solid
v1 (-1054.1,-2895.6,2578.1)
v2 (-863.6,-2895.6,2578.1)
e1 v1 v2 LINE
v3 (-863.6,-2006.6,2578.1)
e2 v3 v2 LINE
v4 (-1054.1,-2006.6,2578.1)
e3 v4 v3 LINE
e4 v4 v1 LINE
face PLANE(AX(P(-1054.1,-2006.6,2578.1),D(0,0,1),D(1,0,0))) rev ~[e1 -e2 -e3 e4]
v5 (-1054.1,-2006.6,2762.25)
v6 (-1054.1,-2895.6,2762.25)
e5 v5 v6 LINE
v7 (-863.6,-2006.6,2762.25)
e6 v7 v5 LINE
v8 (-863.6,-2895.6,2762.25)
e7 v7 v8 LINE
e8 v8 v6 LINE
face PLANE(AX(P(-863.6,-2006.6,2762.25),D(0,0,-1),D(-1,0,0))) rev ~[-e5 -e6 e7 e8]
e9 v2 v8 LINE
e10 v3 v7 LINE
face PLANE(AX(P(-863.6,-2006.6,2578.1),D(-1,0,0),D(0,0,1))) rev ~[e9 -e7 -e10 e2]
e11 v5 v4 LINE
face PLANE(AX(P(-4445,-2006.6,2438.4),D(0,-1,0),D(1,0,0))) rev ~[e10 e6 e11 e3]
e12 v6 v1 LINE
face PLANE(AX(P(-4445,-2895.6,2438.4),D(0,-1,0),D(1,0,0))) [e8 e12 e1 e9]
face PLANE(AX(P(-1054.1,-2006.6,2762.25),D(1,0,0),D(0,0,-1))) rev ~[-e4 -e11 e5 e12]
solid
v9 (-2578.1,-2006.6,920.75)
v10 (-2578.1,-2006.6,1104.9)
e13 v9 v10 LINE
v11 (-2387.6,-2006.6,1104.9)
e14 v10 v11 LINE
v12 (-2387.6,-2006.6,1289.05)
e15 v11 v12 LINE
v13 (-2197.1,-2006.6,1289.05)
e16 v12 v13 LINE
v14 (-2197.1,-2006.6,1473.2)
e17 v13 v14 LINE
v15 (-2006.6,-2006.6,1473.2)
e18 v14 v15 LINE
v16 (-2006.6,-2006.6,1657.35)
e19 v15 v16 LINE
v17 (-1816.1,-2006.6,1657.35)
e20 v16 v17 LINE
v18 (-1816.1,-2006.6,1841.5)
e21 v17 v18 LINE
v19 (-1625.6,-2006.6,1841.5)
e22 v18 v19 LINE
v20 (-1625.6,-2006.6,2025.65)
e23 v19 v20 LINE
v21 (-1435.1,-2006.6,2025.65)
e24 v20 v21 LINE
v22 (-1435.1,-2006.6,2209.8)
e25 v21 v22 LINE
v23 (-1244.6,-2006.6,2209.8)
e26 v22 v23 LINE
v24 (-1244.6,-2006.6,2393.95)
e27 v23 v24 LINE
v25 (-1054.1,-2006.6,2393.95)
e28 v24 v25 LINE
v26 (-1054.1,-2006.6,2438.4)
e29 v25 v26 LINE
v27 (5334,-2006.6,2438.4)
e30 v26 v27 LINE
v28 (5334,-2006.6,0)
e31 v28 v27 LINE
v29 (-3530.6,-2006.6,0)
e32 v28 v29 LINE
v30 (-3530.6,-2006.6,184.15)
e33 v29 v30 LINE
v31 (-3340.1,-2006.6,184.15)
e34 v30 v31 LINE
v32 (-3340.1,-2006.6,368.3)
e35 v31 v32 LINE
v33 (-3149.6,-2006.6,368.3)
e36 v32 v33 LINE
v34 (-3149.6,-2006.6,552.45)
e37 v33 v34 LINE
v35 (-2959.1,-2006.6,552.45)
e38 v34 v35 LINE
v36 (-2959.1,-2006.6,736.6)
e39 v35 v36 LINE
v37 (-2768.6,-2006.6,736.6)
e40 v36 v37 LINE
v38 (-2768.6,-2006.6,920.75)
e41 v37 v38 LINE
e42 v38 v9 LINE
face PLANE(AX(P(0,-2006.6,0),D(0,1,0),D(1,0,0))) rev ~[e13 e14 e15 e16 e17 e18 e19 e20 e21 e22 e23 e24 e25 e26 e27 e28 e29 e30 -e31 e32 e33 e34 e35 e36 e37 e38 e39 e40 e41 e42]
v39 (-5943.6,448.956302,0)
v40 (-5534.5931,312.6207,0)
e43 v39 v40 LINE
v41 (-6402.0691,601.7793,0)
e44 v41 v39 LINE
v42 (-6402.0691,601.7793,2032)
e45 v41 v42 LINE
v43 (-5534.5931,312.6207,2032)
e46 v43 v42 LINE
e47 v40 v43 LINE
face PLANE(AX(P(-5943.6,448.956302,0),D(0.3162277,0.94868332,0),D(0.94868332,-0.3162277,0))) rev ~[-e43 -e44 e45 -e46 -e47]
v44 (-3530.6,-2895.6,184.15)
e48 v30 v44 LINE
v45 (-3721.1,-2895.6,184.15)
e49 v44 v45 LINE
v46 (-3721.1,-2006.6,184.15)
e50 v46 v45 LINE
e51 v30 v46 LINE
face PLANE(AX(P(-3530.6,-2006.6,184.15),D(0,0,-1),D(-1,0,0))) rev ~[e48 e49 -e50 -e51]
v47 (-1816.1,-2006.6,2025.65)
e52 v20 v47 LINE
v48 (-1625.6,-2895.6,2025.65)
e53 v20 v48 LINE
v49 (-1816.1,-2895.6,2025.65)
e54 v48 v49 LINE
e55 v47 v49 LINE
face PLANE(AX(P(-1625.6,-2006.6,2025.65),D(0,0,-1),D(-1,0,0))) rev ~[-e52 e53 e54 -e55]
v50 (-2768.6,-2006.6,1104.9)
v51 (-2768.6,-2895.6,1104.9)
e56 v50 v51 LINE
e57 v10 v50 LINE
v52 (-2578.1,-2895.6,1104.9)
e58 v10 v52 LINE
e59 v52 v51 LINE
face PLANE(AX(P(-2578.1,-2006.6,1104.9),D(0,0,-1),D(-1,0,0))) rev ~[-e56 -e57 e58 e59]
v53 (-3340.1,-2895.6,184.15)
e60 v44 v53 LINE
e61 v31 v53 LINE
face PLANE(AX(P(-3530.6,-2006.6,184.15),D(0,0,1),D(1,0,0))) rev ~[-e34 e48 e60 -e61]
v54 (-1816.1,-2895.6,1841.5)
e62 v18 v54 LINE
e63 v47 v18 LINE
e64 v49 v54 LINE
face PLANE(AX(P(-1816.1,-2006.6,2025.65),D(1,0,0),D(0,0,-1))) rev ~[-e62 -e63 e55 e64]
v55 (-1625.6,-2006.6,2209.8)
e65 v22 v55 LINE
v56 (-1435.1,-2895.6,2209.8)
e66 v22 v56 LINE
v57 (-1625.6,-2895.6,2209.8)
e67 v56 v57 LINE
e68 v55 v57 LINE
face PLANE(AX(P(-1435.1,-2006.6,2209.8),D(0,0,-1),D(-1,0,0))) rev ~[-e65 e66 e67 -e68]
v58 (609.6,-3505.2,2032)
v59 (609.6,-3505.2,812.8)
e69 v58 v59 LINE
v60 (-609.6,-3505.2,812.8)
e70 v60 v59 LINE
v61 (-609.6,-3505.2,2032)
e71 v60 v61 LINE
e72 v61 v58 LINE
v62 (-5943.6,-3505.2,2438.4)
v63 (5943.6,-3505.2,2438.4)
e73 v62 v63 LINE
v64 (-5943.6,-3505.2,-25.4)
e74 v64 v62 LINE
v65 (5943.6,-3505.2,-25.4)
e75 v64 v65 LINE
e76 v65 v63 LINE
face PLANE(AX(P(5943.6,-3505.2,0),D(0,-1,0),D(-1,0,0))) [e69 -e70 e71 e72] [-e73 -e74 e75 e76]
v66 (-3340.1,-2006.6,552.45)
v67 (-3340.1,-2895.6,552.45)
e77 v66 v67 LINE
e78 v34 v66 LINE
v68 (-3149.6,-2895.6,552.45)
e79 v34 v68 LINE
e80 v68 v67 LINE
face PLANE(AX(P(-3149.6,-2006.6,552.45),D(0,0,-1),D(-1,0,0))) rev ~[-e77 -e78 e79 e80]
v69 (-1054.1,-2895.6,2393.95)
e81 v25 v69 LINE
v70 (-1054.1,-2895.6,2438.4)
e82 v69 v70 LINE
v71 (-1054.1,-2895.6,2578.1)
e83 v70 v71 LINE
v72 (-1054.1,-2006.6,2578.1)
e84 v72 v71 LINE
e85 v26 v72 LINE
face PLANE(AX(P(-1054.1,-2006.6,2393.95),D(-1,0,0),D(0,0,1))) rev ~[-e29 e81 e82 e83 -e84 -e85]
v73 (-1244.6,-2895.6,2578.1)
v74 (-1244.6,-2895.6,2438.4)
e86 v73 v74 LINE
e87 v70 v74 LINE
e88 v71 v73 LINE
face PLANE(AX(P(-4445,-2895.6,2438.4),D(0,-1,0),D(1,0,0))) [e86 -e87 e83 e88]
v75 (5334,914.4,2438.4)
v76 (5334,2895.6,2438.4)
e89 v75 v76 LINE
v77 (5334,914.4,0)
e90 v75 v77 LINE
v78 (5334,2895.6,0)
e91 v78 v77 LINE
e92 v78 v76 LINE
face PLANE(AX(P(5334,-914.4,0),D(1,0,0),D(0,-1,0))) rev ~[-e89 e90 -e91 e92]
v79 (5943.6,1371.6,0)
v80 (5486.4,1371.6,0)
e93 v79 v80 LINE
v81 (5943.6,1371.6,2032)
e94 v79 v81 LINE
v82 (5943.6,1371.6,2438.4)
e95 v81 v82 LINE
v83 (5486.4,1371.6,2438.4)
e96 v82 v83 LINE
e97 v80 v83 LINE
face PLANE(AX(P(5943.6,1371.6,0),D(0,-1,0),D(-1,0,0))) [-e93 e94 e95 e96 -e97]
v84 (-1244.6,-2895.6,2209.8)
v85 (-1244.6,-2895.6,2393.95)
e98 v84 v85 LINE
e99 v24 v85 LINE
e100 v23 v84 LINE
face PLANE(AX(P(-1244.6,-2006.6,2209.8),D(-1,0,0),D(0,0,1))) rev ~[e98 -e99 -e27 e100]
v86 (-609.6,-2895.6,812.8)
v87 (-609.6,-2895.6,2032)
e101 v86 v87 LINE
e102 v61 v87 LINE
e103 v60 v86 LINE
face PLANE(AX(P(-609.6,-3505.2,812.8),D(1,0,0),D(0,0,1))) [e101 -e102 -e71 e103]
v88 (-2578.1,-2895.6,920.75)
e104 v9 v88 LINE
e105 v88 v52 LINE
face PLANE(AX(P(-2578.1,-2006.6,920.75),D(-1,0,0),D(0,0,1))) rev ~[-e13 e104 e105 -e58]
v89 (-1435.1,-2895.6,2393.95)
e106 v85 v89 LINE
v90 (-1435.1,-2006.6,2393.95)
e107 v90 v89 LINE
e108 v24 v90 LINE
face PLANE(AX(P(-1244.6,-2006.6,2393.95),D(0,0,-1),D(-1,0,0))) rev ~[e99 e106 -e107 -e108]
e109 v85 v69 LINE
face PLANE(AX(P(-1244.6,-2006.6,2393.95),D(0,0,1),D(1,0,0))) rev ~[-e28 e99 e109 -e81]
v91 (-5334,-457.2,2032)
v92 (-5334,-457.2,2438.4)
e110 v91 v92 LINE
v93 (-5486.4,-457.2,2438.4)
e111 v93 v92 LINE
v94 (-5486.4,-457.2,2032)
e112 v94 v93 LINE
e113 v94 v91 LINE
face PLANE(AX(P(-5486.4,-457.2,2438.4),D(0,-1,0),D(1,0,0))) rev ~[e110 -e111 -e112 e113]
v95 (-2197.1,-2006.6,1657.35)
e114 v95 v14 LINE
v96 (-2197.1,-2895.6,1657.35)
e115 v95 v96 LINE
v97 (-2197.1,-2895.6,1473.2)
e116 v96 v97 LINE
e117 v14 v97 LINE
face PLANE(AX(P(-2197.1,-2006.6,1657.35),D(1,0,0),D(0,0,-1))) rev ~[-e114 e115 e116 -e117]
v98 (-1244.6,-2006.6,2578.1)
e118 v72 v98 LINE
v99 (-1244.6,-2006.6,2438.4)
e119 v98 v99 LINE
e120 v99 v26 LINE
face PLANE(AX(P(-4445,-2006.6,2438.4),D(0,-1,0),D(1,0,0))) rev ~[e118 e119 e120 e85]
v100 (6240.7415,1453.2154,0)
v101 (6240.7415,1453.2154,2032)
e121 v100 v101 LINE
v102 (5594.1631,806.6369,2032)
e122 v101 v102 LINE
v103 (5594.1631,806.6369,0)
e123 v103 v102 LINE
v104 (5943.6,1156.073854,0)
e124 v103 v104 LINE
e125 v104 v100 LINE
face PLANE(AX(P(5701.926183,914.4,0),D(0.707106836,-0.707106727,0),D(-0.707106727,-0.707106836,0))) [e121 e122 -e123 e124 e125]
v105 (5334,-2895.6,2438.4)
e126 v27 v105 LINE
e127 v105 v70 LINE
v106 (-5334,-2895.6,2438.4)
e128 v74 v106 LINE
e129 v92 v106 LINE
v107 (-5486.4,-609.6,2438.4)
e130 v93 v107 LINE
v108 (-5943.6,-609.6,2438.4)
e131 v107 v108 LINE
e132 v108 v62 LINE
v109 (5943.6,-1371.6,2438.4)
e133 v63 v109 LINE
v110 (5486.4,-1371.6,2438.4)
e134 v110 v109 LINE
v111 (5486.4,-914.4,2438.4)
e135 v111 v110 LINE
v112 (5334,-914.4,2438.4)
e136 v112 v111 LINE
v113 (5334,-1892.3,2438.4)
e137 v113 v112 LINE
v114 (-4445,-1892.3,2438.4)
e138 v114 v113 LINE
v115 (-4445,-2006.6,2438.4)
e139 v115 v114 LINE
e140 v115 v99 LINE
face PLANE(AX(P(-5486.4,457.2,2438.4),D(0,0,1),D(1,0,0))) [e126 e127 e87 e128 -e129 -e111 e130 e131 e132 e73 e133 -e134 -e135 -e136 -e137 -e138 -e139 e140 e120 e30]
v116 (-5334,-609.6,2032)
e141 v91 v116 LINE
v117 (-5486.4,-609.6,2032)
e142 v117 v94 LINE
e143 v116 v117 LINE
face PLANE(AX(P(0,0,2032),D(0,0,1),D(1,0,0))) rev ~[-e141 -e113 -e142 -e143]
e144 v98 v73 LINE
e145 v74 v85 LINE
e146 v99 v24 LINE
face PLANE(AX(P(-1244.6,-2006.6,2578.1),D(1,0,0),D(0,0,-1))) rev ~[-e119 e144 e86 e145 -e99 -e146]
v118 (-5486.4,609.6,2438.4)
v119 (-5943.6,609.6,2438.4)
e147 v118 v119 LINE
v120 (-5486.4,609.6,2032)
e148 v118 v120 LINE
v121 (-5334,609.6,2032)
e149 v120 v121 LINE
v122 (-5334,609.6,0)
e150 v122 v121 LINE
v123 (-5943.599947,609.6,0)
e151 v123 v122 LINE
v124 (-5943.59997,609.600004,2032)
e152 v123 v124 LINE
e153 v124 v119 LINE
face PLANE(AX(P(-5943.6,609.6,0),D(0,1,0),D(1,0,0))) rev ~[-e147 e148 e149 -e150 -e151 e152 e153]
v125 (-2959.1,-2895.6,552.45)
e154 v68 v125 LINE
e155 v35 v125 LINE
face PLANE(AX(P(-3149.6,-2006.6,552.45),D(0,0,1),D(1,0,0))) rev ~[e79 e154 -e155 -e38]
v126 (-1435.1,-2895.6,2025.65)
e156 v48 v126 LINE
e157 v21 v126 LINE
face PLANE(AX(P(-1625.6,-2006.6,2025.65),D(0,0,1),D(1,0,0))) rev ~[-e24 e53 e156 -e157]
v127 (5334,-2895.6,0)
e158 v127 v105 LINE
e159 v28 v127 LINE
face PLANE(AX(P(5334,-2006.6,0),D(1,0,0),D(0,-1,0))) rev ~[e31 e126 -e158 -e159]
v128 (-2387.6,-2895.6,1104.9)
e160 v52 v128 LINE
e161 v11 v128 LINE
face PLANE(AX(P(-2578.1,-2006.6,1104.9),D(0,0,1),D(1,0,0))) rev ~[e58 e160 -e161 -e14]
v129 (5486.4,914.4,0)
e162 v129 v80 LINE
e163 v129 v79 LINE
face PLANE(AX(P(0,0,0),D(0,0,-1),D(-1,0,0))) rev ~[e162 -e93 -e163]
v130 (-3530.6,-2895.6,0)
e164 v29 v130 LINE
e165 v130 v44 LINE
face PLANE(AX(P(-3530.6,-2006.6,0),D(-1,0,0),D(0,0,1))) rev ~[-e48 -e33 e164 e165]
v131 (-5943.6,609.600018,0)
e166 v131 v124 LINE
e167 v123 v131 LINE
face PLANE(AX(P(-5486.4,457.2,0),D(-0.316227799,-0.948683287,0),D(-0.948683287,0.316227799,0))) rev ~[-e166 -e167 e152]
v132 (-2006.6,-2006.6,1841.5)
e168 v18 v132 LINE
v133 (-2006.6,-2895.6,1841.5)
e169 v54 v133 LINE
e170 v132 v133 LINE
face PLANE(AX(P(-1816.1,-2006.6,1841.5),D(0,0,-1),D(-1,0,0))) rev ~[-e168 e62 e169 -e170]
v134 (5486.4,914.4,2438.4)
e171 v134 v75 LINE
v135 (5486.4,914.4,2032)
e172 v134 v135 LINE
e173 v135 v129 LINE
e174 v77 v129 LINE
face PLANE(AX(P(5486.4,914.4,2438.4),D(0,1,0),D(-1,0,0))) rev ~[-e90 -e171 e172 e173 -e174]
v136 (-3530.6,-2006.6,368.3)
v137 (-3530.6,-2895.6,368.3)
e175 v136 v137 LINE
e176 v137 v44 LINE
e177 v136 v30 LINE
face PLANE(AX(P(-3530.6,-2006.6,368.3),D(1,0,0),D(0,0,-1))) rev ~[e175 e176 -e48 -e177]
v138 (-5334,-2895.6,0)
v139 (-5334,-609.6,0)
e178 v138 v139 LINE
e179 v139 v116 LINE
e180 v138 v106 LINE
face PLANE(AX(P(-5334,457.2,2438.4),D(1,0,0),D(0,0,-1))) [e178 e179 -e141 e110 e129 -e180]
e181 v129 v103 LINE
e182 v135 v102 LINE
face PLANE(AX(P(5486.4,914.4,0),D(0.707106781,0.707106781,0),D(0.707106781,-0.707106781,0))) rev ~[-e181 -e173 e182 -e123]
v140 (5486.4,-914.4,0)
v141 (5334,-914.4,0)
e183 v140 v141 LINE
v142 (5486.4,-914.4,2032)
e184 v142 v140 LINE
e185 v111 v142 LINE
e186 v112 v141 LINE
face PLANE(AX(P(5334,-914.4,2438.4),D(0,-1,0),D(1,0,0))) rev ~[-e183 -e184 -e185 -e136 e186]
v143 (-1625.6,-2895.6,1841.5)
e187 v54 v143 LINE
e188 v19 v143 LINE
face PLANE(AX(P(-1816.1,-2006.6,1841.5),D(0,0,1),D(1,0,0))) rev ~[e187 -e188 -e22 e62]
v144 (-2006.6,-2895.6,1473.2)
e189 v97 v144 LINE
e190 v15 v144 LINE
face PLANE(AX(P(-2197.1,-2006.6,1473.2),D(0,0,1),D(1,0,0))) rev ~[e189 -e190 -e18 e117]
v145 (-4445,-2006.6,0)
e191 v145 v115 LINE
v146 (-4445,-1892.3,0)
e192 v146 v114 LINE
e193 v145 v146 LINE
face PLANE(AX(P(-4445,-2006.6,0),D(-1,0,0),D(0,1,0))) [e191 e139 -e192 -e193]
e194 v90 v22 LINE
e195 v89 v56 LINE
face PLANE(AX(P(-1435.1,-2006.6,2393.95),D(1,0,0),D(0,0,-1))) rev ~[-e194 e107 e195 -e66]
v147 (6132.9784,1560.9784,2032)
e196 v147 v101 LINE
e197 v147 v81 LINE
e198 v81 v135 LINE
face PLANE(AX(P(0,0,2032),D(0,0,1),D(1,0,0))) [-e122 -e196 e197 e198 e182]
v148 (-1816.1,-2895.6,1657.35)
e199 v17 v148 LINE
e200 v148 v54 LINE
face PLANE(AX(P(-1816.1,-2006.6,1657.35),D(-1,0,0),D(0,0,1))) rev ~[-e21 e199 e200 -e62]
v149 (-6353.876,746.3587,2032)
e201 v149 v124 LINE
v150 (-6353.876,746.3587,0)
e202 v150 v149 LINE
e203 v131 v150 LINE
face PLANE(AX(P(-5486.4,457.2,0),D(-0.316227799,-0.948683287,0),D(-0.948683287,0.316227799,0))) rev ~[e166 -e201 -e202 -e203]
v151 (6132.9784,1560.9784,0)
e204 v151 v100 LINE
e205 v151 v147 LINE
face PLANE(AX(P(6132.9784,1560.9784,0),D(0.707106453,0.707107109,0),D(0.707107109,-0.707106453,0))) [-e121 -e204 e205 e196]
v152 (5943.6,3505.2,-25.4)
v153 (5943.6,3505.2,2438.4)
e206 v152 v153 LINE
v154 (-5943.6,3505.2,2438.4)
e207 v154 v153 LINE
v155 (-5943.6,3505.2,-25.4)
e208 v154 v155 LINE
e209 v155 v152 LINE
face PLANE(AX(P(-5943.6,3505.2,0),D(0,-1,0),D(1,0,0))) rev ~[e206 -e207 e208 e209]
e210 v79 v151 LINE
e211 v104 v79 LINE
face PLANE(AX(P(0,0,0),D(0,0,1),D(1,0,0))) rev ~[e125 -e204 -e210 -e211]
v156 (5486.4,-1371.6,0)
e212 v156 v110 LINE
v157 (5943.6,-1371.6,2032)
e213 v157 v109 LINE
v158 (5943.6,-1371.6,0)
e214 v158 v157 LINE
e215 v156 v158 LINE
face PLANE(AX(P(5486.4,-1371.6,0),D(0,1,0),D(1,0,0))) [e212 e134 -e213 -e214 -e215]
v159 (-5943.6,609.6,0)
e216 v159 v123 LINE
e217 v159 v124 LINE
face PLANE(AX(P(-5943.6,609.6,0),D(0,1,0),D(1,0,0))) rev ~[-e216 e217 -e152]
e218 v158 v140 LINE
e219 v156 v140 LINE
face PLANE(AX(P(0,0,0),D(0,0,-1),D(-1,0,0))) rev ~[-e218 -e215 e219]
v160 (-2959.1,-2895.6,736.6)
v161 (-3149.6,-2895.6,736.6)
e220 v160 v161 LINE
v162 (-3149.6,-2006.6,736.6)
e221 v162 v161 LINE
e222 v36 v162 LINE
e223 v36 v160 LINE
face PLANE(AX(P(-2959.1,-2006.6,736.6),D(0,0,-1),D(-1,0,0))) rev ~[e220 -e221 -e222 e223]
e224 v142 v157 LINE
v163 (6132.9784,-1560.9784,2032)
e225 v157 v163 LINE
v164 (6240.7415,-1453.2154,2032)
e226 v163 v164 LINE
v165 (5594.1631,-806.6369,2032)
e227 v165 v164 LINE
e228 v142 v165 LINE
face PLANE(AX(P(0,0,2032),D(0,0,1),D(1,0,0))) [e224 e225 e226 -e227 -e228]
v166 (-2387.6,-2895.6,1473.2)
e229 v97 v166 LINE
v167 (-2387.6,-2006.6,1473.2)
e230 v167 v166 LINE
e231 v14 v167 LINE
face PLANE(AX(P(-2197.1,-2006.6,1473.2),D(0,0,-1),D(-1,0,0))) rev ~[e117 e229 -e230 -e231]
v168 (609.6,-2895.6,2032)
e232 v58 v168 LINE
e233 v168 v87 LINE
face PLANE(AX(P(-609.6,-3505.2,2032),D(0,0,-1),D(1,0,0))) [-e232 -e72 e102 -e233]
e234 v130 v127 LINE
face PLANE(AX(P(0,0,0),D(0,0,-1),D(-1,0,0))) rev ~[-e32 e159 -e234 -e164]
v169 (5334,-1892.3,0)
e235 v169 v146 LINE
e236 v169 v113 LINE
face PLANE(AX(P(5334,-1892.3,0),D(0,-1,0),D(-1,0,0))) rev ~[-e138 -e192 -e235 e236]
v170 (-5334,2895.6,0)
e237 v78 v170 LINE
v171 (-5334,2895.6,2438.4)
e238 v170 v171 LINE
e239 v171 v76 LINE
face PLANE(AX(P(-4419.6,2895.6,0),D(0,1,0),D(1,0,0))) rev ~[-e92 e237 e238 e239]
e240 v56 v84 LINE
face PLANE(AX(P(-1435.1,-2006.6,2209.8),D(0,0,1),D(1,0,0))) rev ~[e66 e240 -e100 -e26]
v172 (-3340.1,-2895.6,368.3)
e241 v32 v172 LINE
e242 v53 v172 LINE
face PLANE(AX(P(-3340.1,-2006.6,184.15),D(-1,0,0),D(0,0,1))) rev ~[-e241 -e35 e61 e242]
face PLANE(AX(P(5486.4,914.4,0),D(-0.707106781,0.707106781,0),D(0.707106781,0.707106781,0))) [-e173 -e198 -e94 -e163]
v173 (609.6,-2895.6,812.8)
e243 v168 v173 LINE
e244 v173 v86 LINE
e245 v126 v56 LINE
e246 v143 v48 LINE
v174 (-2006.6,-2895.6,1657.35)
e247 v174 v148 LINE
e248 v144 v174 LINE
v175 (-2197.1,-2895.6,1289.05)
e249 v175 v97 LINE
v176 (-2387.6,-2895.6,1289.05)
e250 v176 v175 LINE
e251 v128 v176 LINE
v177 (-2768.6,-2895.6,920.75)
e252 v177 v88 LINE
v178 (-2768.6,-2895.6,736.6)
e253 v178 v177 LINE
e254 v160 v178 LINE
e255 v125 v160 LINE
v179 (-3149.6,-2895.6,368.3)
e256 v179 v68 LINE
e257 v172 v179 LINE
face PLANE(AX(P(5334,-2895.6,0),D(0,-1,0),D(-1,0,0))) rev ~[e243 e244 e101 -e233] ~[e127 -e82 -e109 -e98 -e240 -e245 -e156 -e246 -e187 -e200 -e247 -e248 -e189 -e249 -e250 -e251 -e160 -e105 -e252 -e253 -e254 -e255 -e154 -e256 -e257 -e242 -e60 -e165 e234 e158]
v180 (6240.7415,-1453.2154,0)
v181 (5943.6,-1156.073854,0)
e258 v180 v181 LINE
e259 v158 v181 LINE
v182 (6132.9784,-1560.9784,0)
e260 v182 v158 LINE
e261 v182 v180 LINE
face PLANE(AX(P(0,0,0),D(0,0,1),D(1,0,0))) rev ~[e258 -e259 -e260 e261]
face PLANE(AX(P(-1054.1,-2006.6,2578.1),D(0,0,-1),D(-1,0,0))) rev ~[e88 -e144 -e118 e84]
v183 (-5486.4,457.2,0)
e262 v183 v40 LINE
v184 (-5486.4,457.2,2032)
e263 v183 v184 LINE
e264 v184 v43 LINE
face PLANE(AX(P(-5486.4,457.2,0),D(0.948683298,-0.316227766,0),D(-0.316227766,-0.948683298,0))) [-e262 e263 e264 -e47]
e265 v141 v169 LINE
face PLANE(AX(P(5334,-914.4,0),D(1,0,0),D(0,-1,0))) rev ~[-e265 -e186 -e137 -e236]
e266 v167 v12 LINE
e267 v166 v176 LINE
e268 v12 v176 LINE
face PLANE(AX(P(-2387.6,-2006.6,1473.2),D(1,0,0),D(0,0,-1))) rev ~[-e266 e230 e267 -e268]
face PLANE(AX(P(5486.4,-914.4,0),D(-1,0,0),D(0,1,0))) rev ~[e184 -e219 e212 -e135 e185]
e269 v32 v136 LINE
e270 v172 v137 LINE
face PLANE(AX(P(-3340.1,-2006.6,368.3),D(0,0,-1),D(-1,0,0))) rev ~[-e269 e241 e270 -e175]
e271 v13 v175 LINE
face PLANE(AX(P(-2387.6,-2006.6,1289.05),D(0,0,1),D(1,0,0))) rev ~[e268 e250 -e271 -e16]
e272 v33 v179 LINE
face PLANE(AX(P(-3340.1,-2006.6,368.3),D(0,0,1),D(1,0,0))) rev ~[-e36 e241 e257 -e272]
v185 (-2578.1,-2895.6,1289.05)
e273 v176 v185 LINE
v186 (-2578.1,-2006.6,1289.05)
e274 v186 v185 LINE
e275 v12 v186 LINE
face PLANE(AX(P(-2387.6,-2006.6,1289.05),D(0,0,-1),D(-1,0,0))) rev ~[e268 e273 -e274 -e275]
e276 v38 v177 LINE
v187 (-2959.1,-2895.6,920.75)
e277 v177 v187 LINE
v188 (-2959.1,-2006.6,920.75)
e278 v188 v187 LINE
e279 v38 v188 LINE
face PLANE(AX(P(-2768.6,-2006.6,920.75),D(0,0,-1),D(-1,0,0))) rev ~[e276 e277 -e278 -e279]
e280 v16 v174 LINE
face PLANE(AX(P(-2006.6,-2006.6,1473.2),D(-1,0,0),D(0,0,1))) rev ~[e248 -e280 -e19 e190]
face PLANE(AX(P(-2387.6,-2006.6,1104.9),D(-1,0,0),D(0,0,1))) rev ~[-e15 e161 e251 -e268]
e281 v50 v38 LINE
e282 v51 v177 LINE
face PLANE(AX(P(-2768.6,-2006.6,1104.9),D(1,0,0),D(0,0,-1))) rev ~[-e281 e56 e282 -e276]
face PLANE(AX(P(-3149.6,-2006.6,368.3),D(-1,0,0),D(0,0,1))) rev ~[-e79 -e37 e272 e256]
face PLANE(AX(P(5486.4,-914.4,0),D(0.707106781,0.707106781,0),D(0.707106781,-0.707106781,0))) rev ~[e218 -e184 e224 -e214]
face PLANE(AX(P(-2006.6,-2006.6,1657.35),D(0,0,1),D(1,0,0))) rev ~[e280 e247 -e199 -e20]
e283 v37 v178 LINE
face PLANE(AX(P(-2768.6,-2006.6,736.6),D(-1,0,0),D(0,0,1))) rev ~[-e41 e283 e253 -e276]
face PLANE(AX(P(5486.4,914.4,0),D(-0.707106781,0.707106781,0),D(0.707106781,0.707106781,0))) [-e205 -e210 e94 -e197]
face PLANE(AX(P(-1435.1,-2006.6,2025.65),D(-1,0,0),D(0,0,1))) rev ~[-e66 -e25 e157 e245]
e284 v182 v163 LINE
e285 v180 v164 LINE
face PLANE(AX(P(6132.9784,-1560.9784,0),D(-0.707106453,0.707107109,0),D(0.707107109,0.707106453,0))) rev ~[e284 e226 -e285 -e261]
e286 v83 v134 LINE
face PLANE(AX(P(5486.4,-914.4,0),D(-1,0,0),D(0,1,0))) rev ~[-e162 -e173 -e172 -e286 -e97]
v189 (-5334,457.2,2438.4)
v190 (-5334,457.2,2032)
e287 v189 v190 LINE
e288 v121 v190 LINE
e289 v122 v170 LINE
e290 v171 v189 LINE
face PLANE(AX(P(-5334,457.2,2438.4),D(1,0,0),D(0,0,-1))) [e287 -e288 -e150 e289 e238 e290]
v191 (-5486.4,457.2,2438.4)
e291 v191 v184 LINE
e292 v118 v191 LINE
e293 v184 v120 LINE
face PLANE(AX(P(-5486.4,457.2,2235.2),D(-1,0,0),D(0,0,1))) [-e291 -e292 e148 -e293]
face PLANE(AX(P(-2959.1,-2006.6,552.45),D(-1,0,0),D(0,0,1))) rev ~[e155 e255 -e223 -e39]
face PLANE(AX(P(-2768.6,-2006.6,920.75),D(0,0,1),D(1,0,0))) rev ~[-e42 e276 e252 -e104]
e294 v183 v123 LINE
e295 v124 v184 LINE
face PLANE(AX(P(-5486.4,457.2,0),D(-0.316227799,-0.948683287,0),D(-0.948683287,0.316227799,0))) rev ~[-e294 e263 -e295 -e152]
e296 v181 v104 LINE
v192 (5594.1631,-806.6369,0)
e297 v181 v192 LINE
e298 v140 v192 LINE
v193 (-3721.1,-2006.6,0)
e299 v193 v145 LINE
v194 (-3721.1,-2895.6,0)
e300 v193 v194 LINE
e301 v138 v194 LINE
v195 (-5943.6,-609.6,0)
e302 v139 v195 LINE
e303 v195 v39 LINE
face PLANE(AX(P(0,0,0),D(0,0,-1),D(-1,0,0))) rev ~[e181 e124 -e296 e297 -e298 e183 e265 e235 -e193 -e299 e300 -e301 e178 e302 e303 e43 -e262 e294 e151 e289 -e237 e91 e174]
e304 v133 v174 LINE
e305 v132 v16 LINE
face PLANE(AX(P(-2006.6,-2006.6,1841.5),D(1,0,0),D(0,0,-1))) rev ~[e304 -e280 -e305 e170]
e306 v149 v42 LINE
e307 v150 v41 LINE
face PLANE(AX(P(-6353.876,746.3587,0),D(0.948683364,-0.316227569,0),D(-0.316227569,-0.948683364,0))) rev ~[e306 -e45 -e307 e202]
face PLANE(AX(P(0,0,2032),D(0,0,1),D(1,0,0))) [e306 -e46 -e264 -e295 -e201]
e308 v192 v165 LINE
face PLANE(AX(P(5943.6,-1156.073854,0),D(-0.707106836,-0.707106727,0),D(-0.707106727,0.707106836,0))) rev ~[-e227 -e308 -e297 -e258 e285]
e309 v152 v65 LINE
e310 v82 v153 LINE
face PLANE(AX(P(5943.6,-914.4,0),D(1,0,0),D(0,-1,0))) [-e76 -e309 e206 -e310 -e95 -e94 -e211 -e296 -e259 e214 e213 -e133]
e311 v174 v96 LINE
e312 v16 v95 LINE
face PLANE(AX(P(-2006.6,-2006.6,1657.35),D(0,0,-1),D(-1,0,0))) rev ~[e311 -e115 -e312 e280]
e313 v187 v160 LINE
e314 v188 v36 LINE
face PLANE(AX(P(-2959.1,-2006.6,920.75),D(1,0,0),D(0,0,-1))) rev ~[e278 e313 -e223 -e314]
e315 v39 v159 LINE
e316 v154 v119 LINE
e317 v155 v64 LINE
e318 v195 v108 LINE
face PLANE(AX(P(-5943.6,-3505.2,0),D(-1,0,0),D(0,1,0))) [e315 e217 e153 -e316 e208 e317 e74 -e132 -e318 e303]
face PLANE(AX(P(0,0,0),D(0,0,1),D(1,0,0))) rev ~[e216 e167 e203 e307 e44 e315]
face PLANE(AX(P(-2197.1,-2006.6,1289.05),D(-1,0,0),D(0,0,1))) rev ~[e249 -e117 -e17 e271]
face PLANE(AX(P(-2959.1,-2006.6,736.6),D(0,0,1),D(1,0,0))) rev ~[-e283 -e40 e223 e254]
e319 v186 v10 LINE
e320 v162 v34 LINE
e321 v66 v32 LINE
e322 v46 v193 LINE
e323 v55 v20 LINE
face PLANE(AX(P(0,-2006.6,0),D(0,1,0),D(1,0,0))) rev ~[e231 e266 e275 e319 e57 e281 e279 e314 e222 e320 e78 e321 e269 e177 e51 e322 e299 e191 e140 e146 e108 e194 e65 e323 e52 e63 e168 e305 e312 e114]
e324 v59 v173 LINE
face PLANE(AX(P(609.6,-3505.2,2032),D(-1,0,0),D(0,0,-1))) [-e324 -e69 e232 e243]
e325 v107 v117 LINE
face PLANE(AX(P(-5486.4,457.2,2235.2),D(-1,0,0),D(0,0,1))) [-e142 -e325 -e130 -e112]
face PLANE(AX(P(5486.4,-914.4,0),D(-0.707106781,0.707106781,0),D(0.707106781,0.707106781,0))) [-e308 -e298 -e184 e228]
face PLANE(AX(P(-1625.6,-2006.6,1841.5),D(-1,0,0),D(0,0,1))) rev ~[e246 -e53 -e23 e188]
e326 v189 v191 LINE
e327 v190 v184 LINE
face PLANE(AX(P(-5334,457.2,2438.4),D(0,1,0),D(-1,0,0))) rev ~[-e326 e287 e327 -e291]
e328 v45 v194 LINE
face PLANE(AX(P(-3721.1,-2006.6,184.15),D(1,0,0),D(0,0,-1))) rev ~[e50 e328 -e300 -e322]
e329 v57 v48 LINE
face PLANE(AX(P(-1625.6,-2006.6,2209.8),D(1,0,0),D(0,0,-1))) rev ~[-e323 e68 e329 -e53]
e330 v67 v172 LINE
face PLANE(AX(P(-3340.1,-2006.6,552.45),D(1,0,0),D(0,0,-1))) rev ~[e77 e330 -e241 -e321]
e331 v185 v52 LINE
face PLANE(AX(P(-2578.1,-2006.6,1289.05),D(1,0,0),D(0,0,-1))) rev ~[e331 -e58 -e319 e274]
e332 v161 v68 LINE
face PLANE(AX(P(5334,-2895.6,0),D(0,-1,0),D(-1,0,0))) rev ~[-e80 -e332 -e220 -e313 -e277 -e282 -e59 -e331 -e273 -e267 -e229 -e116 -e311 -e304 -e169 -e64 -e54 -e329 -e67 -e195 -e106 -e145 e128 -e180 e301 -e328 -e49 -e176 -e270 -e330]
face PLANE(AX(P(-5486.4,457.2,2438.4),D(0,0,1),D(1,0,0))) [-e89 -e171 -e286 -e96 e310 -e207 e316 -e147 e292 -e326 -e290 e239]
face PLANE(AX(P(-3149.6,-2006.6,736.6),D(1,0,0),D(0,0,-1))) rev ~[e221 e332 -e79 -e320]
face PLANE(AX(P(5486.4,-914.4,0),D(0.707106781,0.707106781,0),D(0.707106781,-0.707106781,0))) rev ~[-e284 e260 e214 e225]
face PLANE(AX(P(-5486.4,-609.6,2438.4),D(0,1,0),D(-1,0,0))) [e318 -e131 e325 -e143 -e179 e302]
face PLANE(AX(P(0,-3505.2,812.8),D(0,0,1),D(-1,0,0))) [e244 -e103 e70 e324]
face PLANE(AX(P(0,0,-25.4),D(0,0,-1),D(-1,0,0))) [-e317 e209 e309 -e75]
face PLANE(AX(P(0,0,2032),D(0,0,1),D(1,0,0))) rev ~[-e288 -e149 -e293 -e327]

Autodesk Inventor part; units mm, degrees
ref_plane "YZ Plane" through (0, 0, 0) normal (1, 0, 0) x (0, 1, 0)
ref_plane "XZ Plane" through (0, 0, 0) normal (0, 1, 0) x (-1, 0, 0)
ref_plane "XY Plane" through (0, 0, 0) normal (0, 0, 1) x (1, 0, 0)
sketch "Sketch1" plane through (0, 0, 0) normal (0, 0, 1) x (1, 0, 0)
  line L0 (-8321.04, 0) -> (8321.04, 0) projected
  line L1 (-5943.6, 3505.2) -> (5943.6, 3505.2)
  line L2 (-5334, 2895.6) -> (5334, 2895.6)
  line L3 (-4572, 2895.6) -> (-4419.6, 2895.6)
  line L4 (-1981.2, -2006.6) -> (-4445, -2006.6)
  line L5 (-4445, -2006.6) -> (-4445, -1892.3)
  line L6 (-1219.2, -2895.6) -> (-1066.8, -2895.6)
  line L7 (5334, -2895.6) -> (0, -2895.6)
  line L8 (0, -2895.6) -> (-5334, -2895.6)
  line L9 (5943.6, -3505.2) -> (0, -3505.2)
  line L10 (0, -3505.2) -> (-5943.6, -3505.2)
  line L11 (5334, 914.4) -> (5943.6, 914.4)
  line L12 (5943.6, -914.4) -> (5334, -914.4)
  line L13 (5334, 2895.6) -> (5334, 914.4)
  line L14 (5334, -914.4) -> (5334, -2895.6)
  line L15 (5943.6, 3505.2) -> (5943.6, 914.4)
  line L16 (5943.6, -914.4) -> (5943.6, -3505.2)
  line L17 (-4445, -2006.6) -> (5334, -2006.6)
  line L18 (5334, -1892.3) -> (-4445, -1892.3)
  line L19 (-4445, -1892.3) -> (-4445, -2006.6)
  line L20 (5334, -1892.3) -> (5334, -2006.6)
  line L21 (-5943.6, 609.6) -> (-5334, 609.6)
  line L22 (-5334, -609.6) -> (-5943.6, -609.6)
  line L23 (-5943.6, -3505.2) -> (-5943.6, -609.6)
  line L24 (-5943.6, 609.6) -> (-5943.6, 3505.2)
  line L25 (-5334, -2895.6) -> (-5334, -609.6)
  line L26 (-5334, 609.6) -> (-5334, 2895.6)
  line L27 (-4445, -2006.6) -> (-4419.6, -2006.6)
  line L28 (-4419.6, 2895.6) -> (-4572, 2895.6)
  line L29 (-4445, -1892.3) -> (-4445, -2006.6)
  line L30 (0, -4907.28) -> (0, 4907.28) projected
  dimension "d18" = 7010.4
  dimension "d19" = 609.6
  dimension "d20" = 609.6
  dimension "d23" = 1828.8
  dimension "d24" = 2590.8
  dimension "d25" = 609.6
  dimension "d28" = 114.3
  dimension "d29" = 0
  dimension "d34" = 1219.2
  dimension "d35" = 2895.6
  dimension "d36" = 609.6
  dimension "d46" = 889
  dimension "d105" = 889
  dimension "d106" = 11887.2
extrude "Extrusion9" add sketch "Sketch1" along normal blind 2438.4 contours L18 L14 L17 L30 | L30 L17 L4 L5 L18 | L1 L30 L2 L26 L21 L24 | L1 L15 L11 L13 L2 L30 | L14 L12 L16 L9 L30 L7 | L30 L10 L23 L22 L25 L8 L6
sketch "Sketch8" plane through (0, 0, 0) normal (0, 0, -1) x (-1, 0, 0)
  line L0 (5943.6, 3505.2) -> (-5943.6, 3505.2) projected
  line L1 (-5943.6, 3505.2) -> (-5943.6, 914.4) projected
  line L2 (-5943.6, 914.4) -> (-5334, 914.4) projected
  line L3 (-5334, 914.4) -> (-5334, 2895.6) projected
  line L4 (-5334, 2895.6) -> (5334, 2895.6) projected
  line L5 (5334, 2895.6) -> (5334, 609.6) projected
  line L6 (5334, 609.6) -> (5943.6, 609.6) projected
  line L7 (5943.6, 609.6) -> (5943.6, 3505.2) projected
  line L8 (-5943.6, 3505.2) -> (5943.6, 3505.2)
  line L9 (5943.6, 3505.2) -> (5943.6, -3505.2)
  line L10 (5943.6, -3505.2) -> (-5943.6, -3505.2)
  line L11 (-5943.6, -3505.2) -> (-5943.6, 3505.2)
  point P0 (0, 0)
extrude "Extrusion10" add sketch "Sketch8" along normal blind 25.4
sketch "Sketch9" plane through (0, 0, 2438.4) normal (0, 0, 1) x (1, 0, 0)
  line L0 (5943.6, 3505.2) -> (-5943.6, 3505.2) projected
  line L1 (-5943.6, 3505.2) -> (-5943.6, 609.6) projected
  line L2 (-5943.6, 609.6) -> (-5334, 609.6) projected
  line L3 (-5334, 609.6) -> (-5334, 2895.6) projected
  line L4 (-5334, 2895.6) -> (5334, 2895.6) projected
  line L5 (5334, 2895.6) -> (5334, 914.4) projected
  line L6 (5334, 914.4) -> (5943.6, 914.4) projected
  line L7 (5943.6, 914.4) -> (5943.6, 3505.2) projected
  line L8 (-5943.6, 609.6) -> (-5334, 609.6)
  line L9 (-5334, 609.6) -> (-5334, -609.6)
  line L10 (-5334, -609.6) -> (-5943.6, -609.6)
  line L11 (-5943.6, -609.6) -> (-5943.6, 609.6)
  line L12 (5334, 914.4) -> (5943.6, 914.4)
  line L13 (5943.6, 914.4) -> (5943.6, -914.4)
  line L14 (5943.6, -914.4) -> (5334, -914.4)
  line L15 (5334, -914.4) -> (5334, 914.4)
  point P0 (0, 0)
extrude "Extrusion11" add sketch "Sketch9" against normal blind 406.4 contours L13 L14 L15 L6 | L2 L9 L10 L11
sketch "Sketch10" plane through (-4445, -2006.6, 2438.4) normal (0, -1, 0) x (1, 0, 0)
  line L0 (0, -2438.4) -> (9779, -2438.4) projected
  line L1 (0, -2438.4) -> (0, 0) projected
  line L2 (723.9, -2438.4) -> (914.4, -2438.4)
  line L3 (914.4, -2438.4) -> (914.4, -2254.25)
  line L4 (914.4, -2254.25) -> (723.9, -2254.25)
  line L5 (723.9, -2254.25) -> (723.9, -2438.4)
  line L6 (914.4, -2254.25) -> (1104.9, -2254.25)
  line L7 (1104.9, -2254.25) -> (1104.9, -2070.1)
  line L8 (1104.9, -2070.1) -> (914.4, -2070.1)
  line L9 (914.4, -2070.1) -> (914.4, -2254.25)
  line L10 (1104.9, -2070.1) -> (1295.4, -2070.1)
  line L11 (1295.4, -2070.1) -> (1295.4, -1885.95)
  line L12 (1295.4, -1885.95) -> (1104.9, -1885.95)
  line L13 (1104.9, -1885.95) -> (1104.9, -2070.1)
  line L14 (1295.4, -1885.95) -> (1485.9, -1885.95)
  line L15 (1485.9, -1885.95) -> (1485.9, -1701.8)
  line L16 (1485.9, -1701.8) -> (1295.4, -1701.8)
  line L17 (1295.4, -1701.8) -> (1295.4, -1885.95)
  line L18 (1485.9, -1701.8) -> (1676.4, -1701.8)
  line L19 (1676.4, -1701.8) -> (1676.4, -1517.65)
  line L20 (1676.4, -1517.65) -> (1485.9, -1517.65)
  line L21 (1485.9, -1517.65) -> (1485.9, -1701.8)
  line L22 (1676.4, -1517.65) -> (1866.9, -1517.65)
  line L23 (1866.9, -1517.65) -> (1866.9, -1333.5)
  line L24 (1866.9, -1333.5) -> (1676.4, -1333.5)
  line L25 (1676.4, -1333.5) -> (1676.4, -1517.65)
  line L26 (1866.9, -1333.5) -> (2057.4, -1333.5)
  line L27 (2057.4, -1333.5) -> (2057.4, -1149.35)
  line L28 (2057.4, -1149.35) -> (1866.9, -1149.35)
  line L29 (1866.9, -1149.35) -> (1866.9, -1333.5)
  line L30 (2438.4, -965.2) -> (2438.4, -781.05)
  line L31 (2247.9, -1149.35) -> (2247.9, -965.2)
  line L32 (2247.9, -965.2) -> (2438.4, -965.2)
  line L33 (2438.4, -781.05) -> (2247.9, -781.05)
  line L34 (2247.9, -781.05) -> (2247.9, -965.2)
  line L35 (2057.4, -1149.35) -> (2247.9, -1149.35)
  line L36 (2247.9, -965.2) -> (2057.4, -965.2)
  line L37 (2057.4, -965.2) -> (2057.4, -1149.35)
  line L38 (2628.9, -781.05) -> (2628.9, -596.9)
  line L39 (2438.4, -781.05) -> (2628.9, -781.05)
  line L40 (2628.9, -596.9) -> (2438.4, -596.9)
  line L41 (2438.4, -596.9) -> (2438.4, -781.05)
  line L42 (3200.4, -228.6) -> (3200.4, -44.45)
  line L43 (3200.4, 139.7) -> (3200.4, -44.45)
  line L44 (3200.4, -44.45) -> (3390.9, -44.45)
  line L45 (3390.9, 139.7) -> (3200.4, 139.7)
  line L46 (3009.9, -44.45) -> (3009.9, -228.6)
  line L47 (3009.9, -228.6) -> (3200.4, -228.6)
  line L48 (3200.4, -44.45) -> (3009.9, -44.45)
  line L49 (3390.9, -44.45) -> (3390.9, 139.7)
  line L50 (3009.9, -412.75) -> (3009.9, -228.6)
  line L51 (3009.9, -228.6) -> (2819.4, -228.6)
  line L52 (2819.4, -412.75) -> (3009.9, -412.75)
  line L53 (2819.4, -228.6) -> (2819.4, -412.75)
  line L54 (2819.4, -596.9) -> (2819.4, -412.75)
  line L55 (2819.4, -412.75) -> (2628.9, -412.75)
  line L56 (2628.9, -596.9) -> (2819.4, -596.9)
  line L57 (2628.9, -412.75) -> (2628.9, -596.9)
  line L58 (3390.9, 139.7) -> (3581.4, 139.7)
  line L59 (3581.4, 139.7) -> (3581.4, 323.85)
  line L60 (3581.4, 323.85) -> (3390.9, 323.85)
  line L61 (3390.9, 323.85) -> (3390.9, 139.7)
  point P0 (8445.5, -2438.4)
  point P1 (4445, -2438.4)
  dimension "d113" = 190.5
  dimension "d115" = 184.15
  dimension "d116" = 723.9
  dimension "d117" = 190.5
  dimension "d118" = 184.15
  dimension "d119" = 190.5
  dimension "d120" = 184.15
  dimension "d121" = 190.5
  dimension "d122" = 184.15
  dimension "d123" = 190.5
  dimension "d124" = 184.15
  dimension "d125" = 190.5
  dimension "d126" = 184.15
  dimension "d127" = 190.5
  dimension "d128" = 184.15
  dimension "d129" = 190.5
  dimension "d130" = 184.15
  dimension "d131" = 190.5
  dimension "d132" = 184.15
  dimension "d133" = 190.5
  dimension "d134" = 184.15
  dimension "d135" = 190.5
  dimension "d136" = 184.15
  dimension "d137" = 190.5
  dimension "d138" = 184.15
  dimension "d139" = 190.5
  dimension "d140" = 184.15
  dimension "d141" = 190.5
  dimension "d142" = 184.15
  dimension "d154" = 184.15
  dimension "d155" = 190.5
extrude "Extrusion12" add sketch "Sketch10" along normal up to surface (889 mm away)
sketch "Sketch11" plane through (-5943.6, -3505.2, 2438.4) normal (0, -1, 0) x (1, 0, 0)
  line L0 (5334, -406.4) -> (6553.2, -406.4)
  line L1 (6553.2, -406.4) -> (6553.2, -1625.6)
  line L2 (6553.2, -1625.6) -> (5334, -1625.6)
  line L3 (5334, -1625.6) -> (5334, -406.4)
  line L4 (11277.6, -2438.4) -> (2413, -2438.4) projected
  line L5 (5943.6, -2956.56) -> (5943.6, 492.76) projected
  point P0 (5943.6, -2438.4)
  dimension "d145" = 1219.2
  dimension "d147" = 1219.2
  dimension "d148" = 812.8
extrude "Extrusion13" cut sketch "Sketch11" against normal up to surface (609.6 mm away)
sketch "Sketch14" plane through (0, 0, 2032) normal (0, 0, -1) x (-1, 0, 0)
  line L0 (-5334, -914.4) -> (-5334, 914.4) projected
  line L1 (-5943.6, 914.4) -> (-5943.6, -914.4) projected
  line L2 (-8321.04, 0) -> (8321.04, 0) projected
  line L3 (-5943.6, 12.7) -> (-5334, 12.7)
  line L4 (-5334, 12.7) -> (-5334, -12.7)
  line L5 (-5334, -12.7) -> (-5943.6, -12.7)
  line L6 (-5943.6, -12.7) -> (-5943.6, 12.7)
  point P0 (0, 0)
  dimension "d156" = 25.4
extrude "Extrusion15" add sketch "Sketch14" along normal blind 25.4
sketch "Sketch15" plane through (0, 0, 0) normal (0, 0, 1) x (1, 0, 0)
  line L0 (5334, -914.4) -> (5334, -1892.3) projected
  line L1 (5943.6, -914.4) -> (5334, -914.4) projected
  line L2 (5943.6, 914.4) -> (5334, 914.4) projected
  line L3 (5334, 914.4) -> (5334, 2895.6) projected
  line L4 (-5334, 2895.6) -> (-5334, 609.6) projected
  line L5 (-5334, -609.6) -> (-5943.6, -609.6) projected
  line L6 (-3721.1, -2895.6) -> (-5334, -2895.6) projected
  line L7 (-8321.04, 0) -> (8321.04, 0) projected
  circle A0 centre (-1778, 0) radius 152.4
  circle A1 centre (1778, 0) radius 152.4
  line L8 (-4445, -2006.6) -> (-5334, -2006.6)
  line L9 (-5334, -2006.6) -> (-5334, -2895.6)
  line L10 (-5334, -2895.6) -> (-4445, -2895.6)
  line L11 (-4445, -2895.6) -> (-4445, -2006.6)
  circle A2 centre (-4889.5, -2451.1) radius 152.4
  circle A3 centre (-5334, 0) radius 152.4
  line L12 (-5118.1, -215.9) -> (-5549.9, -215.9)
  line L13 (-5549.9, -215.9) -> (-5549.9, 215.9)
  line L14 (-5549.9, 215.9) -> (-5118.1, -215.9)
  circle A4 centre (5334, 457.2) radius 152.4
  line L15 (5549.9, 241.3) -> (5118.1, 241.3)
  line L16 (5118.1, 241.3) -> (5118.1, 673.1)
  line L17 (5118.1, 673.1) -> (5549.9, 241.3)
  circle A5 centre (5334, -457.2) radius 152.4
  line L18 (5549.9, -673.1) -> (5118.1, -673.1)
  line L19 (5118.1, -241.3) -> (5549.9, -673.1)
  line L20 (5118.1, -673.1) -> (5118.1, -241.3)
  line L21 (-4713.5236, -2146.3) -> (-4537.5473, -2451.1)
  line L22 (-4537.5473, -2451.1) -> (-4713.5236, -2755.9)
  line L23 (-4713.5236, -2755.9) -> (-5065.4764, -2755.9)
  line L24 (-5065.4764, -2755.9) -> (-5241.4527, -2451.1)
  line L25 (-5241.4527, -2451.1) -> (-5065.4764, -2146.3)
  line L26 (-5065.4764, -2146.3) -> (-4713.5236, -2146.3)
  line L27 (-5943.6, -3505.2) -> (-5943.6, 3505.2) projected
  line L28 (-5334, -609.6) -> (-5943.6, -609.6)
  line L29 (-5943.6, -609.6) -> (-5943.6, 609.6)
  line L30 (-5943.6, 609.6) -> (-5334, 609.6)
  line L31 (-5334, 609.6) -> (-5334, -609.6)
  line L32 (-5486.4, 609.6) -> (-5334, 609.6)
  line L33 (-5334, 609.6) -> (-5334, 457.2)
  line L34 (-5334, 457.2) -> (-5486.4, 457.2)
  line L35 (-5486.4, 457.2) -> (-5486.4, 609.6)
  line L36 (-5334, -609.6) -> (-5486.4, -609.6)
  line L37 (-5486.4, -609.6) -> (-5486.4, -457.2)
  line L38 (-5486.4, -457.2) -> (-5334, -457.2)
  line L39 (-5334, -457.2) -> (-5334, -609.6)
  line L40 (5943.6, 3505.2) -> (5943.6, -3505.2) projected
  line L41 (5486.4, 914.4) -> (5943.6, 914.4)
  line L42 (5943.6, 914.4) -> (5943.6, 1371.6)
  line L43 (5943.6, 1371.6) -> (5486.4, 1371.6)
  line L44 (5486.4, 1371.6) -> (5486.4, 914.4)
  line L45 (5943.6, -914.4) -> (5486.4, -914.4)
  line L46 (5486.4, -914.4) -> (5486.4, -1371.6)
  line L47 (5486.4, -1371.6) -> (5943.6, -1371.6)
  line L48 (5943.6, -1371.6) -> (5943.6, -914.4)
  line L49 (5486.4, 914.4) -> (6132.9784, 1560.9784)
  line L50 (6132.9784, 1560.9784) -> (6240.7415, 1453.2154)
  line L51 (6240.7415, 1453.2154) -> (5594.1631, 806.6369)
  line L52 (5486.4, 914.4) -> (5594.1631, 806.6369)
  line L53 (5486.4, -914.4) -> (6132.9784, -1560.9784)
  line L54 (6132.9784, -1560.9784) -> (6240.7415, -1453.2154)
  line L55 (6240.7415, -1453.2154) -> (5594.1631, -806.6369)
  line L56 (5486.4, -914.4) -> (5594.1631, -806.6369)
  line L57 (5486.4, 1371.6) -> (5943.6, 1371.6)
  line L58 (5943.6, 1371.6) -> (5943.6, -1371.6)
  line L59 (5943.6, -1371.6) -> (5486.4, -1371.6)
  line L60 (5486.4, -1371.6) -> (5486.4, 1371.6)
  line L61 (-5486.4, 457.2) -> (-6353.876, 746.3587)
  line L62 (-6353.876, 746.3587) -> (-6402.0691, 601.7793)
  line L63 (-6402.0691, 601.7793) -> (-5534.5931, 312.6207)
  line L64 (-5486.4, 457.2) -> (-5534.5931, 312.6207)
  point P0 (0, 0)
  point P1 (1.5875, 1.5875)
  point P2 (770.0638, -2405.9824)
  point P3 (-4729.4618, 0)
  point P4 (5334, 457.2)
  point P5 (5334, -457.2)
  dimension "d161" = 304.8
  dimension "d163" = 304.8
  dimension "d164" = 3556
  dimension "d165" = 7112
  dimension "d166" = 304.8
  dimension "d167" = 444.5
  dimension "d168" = 444.5
  dimension "d169" = 304.8
  dimension "d172" = 431.8
  dimension "d173" = 431.8
  dimension "d174" = 215.9
  dimension "d175" = 304.8
  dimension "d176" = 431.8
  dimension "d177" = 431.8
  dimension "d178" = 215.9
  dimension "d179" = 304.8
  dimension "d180" = 431.8
  dimension "d181" = 431.8
  dimension "d182" = 215.9
  dimension "d183" = 457.2
  dimension "d184" = 457.2
  dimension "d185" = 609.6
  dimension "d192" = 152.4
  dimension "d193" = 152.4
  dimension "d194" = 152.4
  dimension "d195" = 457.2
  dimension "d196" = 457.2
  dimension "d197" = 457.2
  dimension "d198" = 457.2
  dimension "d199" = 914.4
  dimension "d200" = 152.4
  dimension "d215" = 152.4
  dimension "d216" = 914.4
extrude "Extrusion18" add sketch "Sketch15" along normal blind 25.4 contours L60 L19 L18 | L18 L20 L19 A5 L60 | L60 L17 L15 | L15 L16 L17 A4 L60 | L19 A5 | A4 L17 picked at (5279.404, -461.4477) picked at (5356.0413, 411.4308)
extrude "Extrusion19" cut sketch "Sketch15" along normal up to surface (2438.4 mm away) contours L40 L55 L1 | L1 L55 L56 L60 L18 L19 L7 L40 | L55 L40 L53 L1 | L1 L56 L55 | L7 L60 L15 L17 L52 L51 L2 L40 | L53 L47 L46 | L2 L51 L40 | L60 L19 L18 | L60 L17 L15 | L51 L52 L2 | L2 L49 L40 L51 | L44 L43 L49
extrude "Extrusion20" add sketch "Sketch15" along normal blind 25.4 contours L60 L19 L18 | L18 L20 L19 A5 L60 | L60 L17 L15 | L15 L16 L17 A4 L60 | L19 A5 | A4 L17 picked at (5279.404, -461.4477) picked at (5356.0413, 411.4308)
extrude "Extrusion21" add sketch "Sketch15" along normal blind 2032 contours L55 L40 L53 L1 | L1 L56 L55 | L55 L54 L53 L40 | L51 L52 L2 | L2 L49 L40 L51 | L40 L49 L50 L51
sketch "Sketch16" plane through (0, 0, 2438.4) normal (0, 0, 1) x (1, 0, 0)
  line L0 (5486.4, 914.4) -> (5334, 914.4) projected
  line L1 (5334, -914.4) -> (5486.4, -914.4) projected
  line L2 (5334, 914.4) -> (5486.4, 914.4)
  line L3 (5486.4, 914.4) -> (5486.4, -914.4)
  line L4 (5486.4, -914.4) -> (5334, -914.4)
  line L5 (5334, -914.4) -> (5334, 914.4)
  point P0 (0, 0)
extrude "Extrusion22" cut sketch "Sketch16" against normal up to surface (431.8 mm away)
sketch "Sketch17" plane through (0, 0, 2438.4) normal (0, 0, 1) x (1, 0, 0)
  line L0 (-5334, -2895.6) -> (-5334, 2895.6) projected
  line L1 (-5943.6, 3505.2) -> (-5943.6, -3505.2) projected
  line L2 (-5334, 609.6) -> (-5334, -609.6) projected
  line L3 (-5486.4, 457.2) -> (-5486.4, 609.6) projected
  line L4 (-5334, 457.2) -> (-5486.4, 457.2) projected
  line L5 (-5334, 609.6) -> (-5943.6, 609.6) projected
  line L6 (-5486.4, -457.2) -> (-5334, -457.2) projected
  line L7 (-5486.4, -609.6) -> (-5486.4, -457.2) projected
  line L8 (-5334, -609.6) -> (-5943.6, -609.6) projected
  point P0 (0, 0)
extrude "Extrusion23" cut sketch "Sketch17" against normal up to surface (406.4 mm away) contours L6 L7 L8 L1 L5 L3 L4 L0
sketch "Sketch18" plane through (-5486.4, 457.2, 2438.4) normal (0, -1, 0) x (1, 0, 0)
  line L0 (152.4, 0) -> (152.4, -406.4) projected
  line L1 (0, 0) -> (152.4, 0)
  line L2 (152.4, 0) -> (152.4, -203.2)
  line L3 (152.4, -203.2) -> (0, -203.2)
  line L4 (0, -203.2) -> (0, 0)
  point P0 (5486.4, -2438.4)
extrude "Extrusion24" add sketch "Sketch18" along normal up to surface (914.4 mm away)
extrude "Extrusion25" cut sketch "Sketch15" along normal blind 25.4 contours L60 L19 L18 | L18 L20 L19 A5 L60 | L60 L17 L15 | L15 L16 L17 A4 L60 | L19 A5 | A4 L17 picked at (5279.404, -461.4477) picked at (5356.0413, 411.4308)
extrude "Extrusion26" add sketch "Sketch15" along normal blind 2032 contours L64 L63 L27 L61 | L27 L63 L62 L61
sketch "Sketch19" plane through (0, 0, 2438.4) normal (0, 0, 1) x (1, 0, 0)
  line L0 (-5486.4, 609.6) -> (-5486.4, -609.6) projected
  line L1 (-5334, -2895.6) -> (-5334, 2895.6) projected
  line L2 (-5334, 457.2) -> (-5486.4, 457.2) projected
  line L3 (-5486.4, -457.2) -> (-5334, -457.2) projected
  point P0 (0, 0)
extrude "Extrusion27" cut sketch "Sketch19" against normal up to surface (203.2 mm away)
sketch "Sketch12" plane through (0, 0, 2438.4) normal (0, 0, 1) x (1, 0, 0)
  line L0 (-5943.6, -3505.2) -> (5943.6, -3505.2) projected
  line L1 (5943.6, -3505.2) -> (5943.6, 3505.2) projected
  line L2 (5943.6, 3505.2) -> (-5943.6, 3505.2) projected
  line L3 (-5943.6, 3505.2) -> (5943.6, 3505.2)
  line L4 (5943.6, 3505.2) -> (5943.6, -2463.8)
  line L5 (5943.6, -2463.8) -> (-5943.6, -2463.8)
  line L6 (-5943.6, -2463.8) -> (-5943.6, 3505.2)
  line L7 (-1054.1, -2006.6) -> (5943.6, -2006.6)
  line L8 (5943.6, -2006.6) -> (5943.6, -3505.2)
  line L9 (5943.6, -3505.2) -> (-1054.1, -3505.2)
  line L10 (-1054.1, -3505.2) -> (-1054.1, -2006.6)
  line L11 (-5943.6, -2463.8) -> (-5181.6, -2463.8)
  line L12 (-5181.6, -2463.8) -> (-5181.6, -3505.2)
  line L13 (-5181.6, -3505.2) -> (-5943.6, -3505.2)
  line L14 (-5943.6, -3505.2) -> (-5943.6, -2463.8)
  line L15 (-1054.1, -2895.6) -> (-5943.6, -2895.6)
  line L16 (-5943.6, -2895.6) -> (-5943.6, -3505.2)
  line L17 (-5943.6, -3505.2) -> (-1054.1, -3505.2)
  line L18 (-1054.1, -3505.2) -> (-1054.1, -2895.6)
  point P0 (0, 0)
properties part number "West_Structure_Hose_Test_1st_Floor"
